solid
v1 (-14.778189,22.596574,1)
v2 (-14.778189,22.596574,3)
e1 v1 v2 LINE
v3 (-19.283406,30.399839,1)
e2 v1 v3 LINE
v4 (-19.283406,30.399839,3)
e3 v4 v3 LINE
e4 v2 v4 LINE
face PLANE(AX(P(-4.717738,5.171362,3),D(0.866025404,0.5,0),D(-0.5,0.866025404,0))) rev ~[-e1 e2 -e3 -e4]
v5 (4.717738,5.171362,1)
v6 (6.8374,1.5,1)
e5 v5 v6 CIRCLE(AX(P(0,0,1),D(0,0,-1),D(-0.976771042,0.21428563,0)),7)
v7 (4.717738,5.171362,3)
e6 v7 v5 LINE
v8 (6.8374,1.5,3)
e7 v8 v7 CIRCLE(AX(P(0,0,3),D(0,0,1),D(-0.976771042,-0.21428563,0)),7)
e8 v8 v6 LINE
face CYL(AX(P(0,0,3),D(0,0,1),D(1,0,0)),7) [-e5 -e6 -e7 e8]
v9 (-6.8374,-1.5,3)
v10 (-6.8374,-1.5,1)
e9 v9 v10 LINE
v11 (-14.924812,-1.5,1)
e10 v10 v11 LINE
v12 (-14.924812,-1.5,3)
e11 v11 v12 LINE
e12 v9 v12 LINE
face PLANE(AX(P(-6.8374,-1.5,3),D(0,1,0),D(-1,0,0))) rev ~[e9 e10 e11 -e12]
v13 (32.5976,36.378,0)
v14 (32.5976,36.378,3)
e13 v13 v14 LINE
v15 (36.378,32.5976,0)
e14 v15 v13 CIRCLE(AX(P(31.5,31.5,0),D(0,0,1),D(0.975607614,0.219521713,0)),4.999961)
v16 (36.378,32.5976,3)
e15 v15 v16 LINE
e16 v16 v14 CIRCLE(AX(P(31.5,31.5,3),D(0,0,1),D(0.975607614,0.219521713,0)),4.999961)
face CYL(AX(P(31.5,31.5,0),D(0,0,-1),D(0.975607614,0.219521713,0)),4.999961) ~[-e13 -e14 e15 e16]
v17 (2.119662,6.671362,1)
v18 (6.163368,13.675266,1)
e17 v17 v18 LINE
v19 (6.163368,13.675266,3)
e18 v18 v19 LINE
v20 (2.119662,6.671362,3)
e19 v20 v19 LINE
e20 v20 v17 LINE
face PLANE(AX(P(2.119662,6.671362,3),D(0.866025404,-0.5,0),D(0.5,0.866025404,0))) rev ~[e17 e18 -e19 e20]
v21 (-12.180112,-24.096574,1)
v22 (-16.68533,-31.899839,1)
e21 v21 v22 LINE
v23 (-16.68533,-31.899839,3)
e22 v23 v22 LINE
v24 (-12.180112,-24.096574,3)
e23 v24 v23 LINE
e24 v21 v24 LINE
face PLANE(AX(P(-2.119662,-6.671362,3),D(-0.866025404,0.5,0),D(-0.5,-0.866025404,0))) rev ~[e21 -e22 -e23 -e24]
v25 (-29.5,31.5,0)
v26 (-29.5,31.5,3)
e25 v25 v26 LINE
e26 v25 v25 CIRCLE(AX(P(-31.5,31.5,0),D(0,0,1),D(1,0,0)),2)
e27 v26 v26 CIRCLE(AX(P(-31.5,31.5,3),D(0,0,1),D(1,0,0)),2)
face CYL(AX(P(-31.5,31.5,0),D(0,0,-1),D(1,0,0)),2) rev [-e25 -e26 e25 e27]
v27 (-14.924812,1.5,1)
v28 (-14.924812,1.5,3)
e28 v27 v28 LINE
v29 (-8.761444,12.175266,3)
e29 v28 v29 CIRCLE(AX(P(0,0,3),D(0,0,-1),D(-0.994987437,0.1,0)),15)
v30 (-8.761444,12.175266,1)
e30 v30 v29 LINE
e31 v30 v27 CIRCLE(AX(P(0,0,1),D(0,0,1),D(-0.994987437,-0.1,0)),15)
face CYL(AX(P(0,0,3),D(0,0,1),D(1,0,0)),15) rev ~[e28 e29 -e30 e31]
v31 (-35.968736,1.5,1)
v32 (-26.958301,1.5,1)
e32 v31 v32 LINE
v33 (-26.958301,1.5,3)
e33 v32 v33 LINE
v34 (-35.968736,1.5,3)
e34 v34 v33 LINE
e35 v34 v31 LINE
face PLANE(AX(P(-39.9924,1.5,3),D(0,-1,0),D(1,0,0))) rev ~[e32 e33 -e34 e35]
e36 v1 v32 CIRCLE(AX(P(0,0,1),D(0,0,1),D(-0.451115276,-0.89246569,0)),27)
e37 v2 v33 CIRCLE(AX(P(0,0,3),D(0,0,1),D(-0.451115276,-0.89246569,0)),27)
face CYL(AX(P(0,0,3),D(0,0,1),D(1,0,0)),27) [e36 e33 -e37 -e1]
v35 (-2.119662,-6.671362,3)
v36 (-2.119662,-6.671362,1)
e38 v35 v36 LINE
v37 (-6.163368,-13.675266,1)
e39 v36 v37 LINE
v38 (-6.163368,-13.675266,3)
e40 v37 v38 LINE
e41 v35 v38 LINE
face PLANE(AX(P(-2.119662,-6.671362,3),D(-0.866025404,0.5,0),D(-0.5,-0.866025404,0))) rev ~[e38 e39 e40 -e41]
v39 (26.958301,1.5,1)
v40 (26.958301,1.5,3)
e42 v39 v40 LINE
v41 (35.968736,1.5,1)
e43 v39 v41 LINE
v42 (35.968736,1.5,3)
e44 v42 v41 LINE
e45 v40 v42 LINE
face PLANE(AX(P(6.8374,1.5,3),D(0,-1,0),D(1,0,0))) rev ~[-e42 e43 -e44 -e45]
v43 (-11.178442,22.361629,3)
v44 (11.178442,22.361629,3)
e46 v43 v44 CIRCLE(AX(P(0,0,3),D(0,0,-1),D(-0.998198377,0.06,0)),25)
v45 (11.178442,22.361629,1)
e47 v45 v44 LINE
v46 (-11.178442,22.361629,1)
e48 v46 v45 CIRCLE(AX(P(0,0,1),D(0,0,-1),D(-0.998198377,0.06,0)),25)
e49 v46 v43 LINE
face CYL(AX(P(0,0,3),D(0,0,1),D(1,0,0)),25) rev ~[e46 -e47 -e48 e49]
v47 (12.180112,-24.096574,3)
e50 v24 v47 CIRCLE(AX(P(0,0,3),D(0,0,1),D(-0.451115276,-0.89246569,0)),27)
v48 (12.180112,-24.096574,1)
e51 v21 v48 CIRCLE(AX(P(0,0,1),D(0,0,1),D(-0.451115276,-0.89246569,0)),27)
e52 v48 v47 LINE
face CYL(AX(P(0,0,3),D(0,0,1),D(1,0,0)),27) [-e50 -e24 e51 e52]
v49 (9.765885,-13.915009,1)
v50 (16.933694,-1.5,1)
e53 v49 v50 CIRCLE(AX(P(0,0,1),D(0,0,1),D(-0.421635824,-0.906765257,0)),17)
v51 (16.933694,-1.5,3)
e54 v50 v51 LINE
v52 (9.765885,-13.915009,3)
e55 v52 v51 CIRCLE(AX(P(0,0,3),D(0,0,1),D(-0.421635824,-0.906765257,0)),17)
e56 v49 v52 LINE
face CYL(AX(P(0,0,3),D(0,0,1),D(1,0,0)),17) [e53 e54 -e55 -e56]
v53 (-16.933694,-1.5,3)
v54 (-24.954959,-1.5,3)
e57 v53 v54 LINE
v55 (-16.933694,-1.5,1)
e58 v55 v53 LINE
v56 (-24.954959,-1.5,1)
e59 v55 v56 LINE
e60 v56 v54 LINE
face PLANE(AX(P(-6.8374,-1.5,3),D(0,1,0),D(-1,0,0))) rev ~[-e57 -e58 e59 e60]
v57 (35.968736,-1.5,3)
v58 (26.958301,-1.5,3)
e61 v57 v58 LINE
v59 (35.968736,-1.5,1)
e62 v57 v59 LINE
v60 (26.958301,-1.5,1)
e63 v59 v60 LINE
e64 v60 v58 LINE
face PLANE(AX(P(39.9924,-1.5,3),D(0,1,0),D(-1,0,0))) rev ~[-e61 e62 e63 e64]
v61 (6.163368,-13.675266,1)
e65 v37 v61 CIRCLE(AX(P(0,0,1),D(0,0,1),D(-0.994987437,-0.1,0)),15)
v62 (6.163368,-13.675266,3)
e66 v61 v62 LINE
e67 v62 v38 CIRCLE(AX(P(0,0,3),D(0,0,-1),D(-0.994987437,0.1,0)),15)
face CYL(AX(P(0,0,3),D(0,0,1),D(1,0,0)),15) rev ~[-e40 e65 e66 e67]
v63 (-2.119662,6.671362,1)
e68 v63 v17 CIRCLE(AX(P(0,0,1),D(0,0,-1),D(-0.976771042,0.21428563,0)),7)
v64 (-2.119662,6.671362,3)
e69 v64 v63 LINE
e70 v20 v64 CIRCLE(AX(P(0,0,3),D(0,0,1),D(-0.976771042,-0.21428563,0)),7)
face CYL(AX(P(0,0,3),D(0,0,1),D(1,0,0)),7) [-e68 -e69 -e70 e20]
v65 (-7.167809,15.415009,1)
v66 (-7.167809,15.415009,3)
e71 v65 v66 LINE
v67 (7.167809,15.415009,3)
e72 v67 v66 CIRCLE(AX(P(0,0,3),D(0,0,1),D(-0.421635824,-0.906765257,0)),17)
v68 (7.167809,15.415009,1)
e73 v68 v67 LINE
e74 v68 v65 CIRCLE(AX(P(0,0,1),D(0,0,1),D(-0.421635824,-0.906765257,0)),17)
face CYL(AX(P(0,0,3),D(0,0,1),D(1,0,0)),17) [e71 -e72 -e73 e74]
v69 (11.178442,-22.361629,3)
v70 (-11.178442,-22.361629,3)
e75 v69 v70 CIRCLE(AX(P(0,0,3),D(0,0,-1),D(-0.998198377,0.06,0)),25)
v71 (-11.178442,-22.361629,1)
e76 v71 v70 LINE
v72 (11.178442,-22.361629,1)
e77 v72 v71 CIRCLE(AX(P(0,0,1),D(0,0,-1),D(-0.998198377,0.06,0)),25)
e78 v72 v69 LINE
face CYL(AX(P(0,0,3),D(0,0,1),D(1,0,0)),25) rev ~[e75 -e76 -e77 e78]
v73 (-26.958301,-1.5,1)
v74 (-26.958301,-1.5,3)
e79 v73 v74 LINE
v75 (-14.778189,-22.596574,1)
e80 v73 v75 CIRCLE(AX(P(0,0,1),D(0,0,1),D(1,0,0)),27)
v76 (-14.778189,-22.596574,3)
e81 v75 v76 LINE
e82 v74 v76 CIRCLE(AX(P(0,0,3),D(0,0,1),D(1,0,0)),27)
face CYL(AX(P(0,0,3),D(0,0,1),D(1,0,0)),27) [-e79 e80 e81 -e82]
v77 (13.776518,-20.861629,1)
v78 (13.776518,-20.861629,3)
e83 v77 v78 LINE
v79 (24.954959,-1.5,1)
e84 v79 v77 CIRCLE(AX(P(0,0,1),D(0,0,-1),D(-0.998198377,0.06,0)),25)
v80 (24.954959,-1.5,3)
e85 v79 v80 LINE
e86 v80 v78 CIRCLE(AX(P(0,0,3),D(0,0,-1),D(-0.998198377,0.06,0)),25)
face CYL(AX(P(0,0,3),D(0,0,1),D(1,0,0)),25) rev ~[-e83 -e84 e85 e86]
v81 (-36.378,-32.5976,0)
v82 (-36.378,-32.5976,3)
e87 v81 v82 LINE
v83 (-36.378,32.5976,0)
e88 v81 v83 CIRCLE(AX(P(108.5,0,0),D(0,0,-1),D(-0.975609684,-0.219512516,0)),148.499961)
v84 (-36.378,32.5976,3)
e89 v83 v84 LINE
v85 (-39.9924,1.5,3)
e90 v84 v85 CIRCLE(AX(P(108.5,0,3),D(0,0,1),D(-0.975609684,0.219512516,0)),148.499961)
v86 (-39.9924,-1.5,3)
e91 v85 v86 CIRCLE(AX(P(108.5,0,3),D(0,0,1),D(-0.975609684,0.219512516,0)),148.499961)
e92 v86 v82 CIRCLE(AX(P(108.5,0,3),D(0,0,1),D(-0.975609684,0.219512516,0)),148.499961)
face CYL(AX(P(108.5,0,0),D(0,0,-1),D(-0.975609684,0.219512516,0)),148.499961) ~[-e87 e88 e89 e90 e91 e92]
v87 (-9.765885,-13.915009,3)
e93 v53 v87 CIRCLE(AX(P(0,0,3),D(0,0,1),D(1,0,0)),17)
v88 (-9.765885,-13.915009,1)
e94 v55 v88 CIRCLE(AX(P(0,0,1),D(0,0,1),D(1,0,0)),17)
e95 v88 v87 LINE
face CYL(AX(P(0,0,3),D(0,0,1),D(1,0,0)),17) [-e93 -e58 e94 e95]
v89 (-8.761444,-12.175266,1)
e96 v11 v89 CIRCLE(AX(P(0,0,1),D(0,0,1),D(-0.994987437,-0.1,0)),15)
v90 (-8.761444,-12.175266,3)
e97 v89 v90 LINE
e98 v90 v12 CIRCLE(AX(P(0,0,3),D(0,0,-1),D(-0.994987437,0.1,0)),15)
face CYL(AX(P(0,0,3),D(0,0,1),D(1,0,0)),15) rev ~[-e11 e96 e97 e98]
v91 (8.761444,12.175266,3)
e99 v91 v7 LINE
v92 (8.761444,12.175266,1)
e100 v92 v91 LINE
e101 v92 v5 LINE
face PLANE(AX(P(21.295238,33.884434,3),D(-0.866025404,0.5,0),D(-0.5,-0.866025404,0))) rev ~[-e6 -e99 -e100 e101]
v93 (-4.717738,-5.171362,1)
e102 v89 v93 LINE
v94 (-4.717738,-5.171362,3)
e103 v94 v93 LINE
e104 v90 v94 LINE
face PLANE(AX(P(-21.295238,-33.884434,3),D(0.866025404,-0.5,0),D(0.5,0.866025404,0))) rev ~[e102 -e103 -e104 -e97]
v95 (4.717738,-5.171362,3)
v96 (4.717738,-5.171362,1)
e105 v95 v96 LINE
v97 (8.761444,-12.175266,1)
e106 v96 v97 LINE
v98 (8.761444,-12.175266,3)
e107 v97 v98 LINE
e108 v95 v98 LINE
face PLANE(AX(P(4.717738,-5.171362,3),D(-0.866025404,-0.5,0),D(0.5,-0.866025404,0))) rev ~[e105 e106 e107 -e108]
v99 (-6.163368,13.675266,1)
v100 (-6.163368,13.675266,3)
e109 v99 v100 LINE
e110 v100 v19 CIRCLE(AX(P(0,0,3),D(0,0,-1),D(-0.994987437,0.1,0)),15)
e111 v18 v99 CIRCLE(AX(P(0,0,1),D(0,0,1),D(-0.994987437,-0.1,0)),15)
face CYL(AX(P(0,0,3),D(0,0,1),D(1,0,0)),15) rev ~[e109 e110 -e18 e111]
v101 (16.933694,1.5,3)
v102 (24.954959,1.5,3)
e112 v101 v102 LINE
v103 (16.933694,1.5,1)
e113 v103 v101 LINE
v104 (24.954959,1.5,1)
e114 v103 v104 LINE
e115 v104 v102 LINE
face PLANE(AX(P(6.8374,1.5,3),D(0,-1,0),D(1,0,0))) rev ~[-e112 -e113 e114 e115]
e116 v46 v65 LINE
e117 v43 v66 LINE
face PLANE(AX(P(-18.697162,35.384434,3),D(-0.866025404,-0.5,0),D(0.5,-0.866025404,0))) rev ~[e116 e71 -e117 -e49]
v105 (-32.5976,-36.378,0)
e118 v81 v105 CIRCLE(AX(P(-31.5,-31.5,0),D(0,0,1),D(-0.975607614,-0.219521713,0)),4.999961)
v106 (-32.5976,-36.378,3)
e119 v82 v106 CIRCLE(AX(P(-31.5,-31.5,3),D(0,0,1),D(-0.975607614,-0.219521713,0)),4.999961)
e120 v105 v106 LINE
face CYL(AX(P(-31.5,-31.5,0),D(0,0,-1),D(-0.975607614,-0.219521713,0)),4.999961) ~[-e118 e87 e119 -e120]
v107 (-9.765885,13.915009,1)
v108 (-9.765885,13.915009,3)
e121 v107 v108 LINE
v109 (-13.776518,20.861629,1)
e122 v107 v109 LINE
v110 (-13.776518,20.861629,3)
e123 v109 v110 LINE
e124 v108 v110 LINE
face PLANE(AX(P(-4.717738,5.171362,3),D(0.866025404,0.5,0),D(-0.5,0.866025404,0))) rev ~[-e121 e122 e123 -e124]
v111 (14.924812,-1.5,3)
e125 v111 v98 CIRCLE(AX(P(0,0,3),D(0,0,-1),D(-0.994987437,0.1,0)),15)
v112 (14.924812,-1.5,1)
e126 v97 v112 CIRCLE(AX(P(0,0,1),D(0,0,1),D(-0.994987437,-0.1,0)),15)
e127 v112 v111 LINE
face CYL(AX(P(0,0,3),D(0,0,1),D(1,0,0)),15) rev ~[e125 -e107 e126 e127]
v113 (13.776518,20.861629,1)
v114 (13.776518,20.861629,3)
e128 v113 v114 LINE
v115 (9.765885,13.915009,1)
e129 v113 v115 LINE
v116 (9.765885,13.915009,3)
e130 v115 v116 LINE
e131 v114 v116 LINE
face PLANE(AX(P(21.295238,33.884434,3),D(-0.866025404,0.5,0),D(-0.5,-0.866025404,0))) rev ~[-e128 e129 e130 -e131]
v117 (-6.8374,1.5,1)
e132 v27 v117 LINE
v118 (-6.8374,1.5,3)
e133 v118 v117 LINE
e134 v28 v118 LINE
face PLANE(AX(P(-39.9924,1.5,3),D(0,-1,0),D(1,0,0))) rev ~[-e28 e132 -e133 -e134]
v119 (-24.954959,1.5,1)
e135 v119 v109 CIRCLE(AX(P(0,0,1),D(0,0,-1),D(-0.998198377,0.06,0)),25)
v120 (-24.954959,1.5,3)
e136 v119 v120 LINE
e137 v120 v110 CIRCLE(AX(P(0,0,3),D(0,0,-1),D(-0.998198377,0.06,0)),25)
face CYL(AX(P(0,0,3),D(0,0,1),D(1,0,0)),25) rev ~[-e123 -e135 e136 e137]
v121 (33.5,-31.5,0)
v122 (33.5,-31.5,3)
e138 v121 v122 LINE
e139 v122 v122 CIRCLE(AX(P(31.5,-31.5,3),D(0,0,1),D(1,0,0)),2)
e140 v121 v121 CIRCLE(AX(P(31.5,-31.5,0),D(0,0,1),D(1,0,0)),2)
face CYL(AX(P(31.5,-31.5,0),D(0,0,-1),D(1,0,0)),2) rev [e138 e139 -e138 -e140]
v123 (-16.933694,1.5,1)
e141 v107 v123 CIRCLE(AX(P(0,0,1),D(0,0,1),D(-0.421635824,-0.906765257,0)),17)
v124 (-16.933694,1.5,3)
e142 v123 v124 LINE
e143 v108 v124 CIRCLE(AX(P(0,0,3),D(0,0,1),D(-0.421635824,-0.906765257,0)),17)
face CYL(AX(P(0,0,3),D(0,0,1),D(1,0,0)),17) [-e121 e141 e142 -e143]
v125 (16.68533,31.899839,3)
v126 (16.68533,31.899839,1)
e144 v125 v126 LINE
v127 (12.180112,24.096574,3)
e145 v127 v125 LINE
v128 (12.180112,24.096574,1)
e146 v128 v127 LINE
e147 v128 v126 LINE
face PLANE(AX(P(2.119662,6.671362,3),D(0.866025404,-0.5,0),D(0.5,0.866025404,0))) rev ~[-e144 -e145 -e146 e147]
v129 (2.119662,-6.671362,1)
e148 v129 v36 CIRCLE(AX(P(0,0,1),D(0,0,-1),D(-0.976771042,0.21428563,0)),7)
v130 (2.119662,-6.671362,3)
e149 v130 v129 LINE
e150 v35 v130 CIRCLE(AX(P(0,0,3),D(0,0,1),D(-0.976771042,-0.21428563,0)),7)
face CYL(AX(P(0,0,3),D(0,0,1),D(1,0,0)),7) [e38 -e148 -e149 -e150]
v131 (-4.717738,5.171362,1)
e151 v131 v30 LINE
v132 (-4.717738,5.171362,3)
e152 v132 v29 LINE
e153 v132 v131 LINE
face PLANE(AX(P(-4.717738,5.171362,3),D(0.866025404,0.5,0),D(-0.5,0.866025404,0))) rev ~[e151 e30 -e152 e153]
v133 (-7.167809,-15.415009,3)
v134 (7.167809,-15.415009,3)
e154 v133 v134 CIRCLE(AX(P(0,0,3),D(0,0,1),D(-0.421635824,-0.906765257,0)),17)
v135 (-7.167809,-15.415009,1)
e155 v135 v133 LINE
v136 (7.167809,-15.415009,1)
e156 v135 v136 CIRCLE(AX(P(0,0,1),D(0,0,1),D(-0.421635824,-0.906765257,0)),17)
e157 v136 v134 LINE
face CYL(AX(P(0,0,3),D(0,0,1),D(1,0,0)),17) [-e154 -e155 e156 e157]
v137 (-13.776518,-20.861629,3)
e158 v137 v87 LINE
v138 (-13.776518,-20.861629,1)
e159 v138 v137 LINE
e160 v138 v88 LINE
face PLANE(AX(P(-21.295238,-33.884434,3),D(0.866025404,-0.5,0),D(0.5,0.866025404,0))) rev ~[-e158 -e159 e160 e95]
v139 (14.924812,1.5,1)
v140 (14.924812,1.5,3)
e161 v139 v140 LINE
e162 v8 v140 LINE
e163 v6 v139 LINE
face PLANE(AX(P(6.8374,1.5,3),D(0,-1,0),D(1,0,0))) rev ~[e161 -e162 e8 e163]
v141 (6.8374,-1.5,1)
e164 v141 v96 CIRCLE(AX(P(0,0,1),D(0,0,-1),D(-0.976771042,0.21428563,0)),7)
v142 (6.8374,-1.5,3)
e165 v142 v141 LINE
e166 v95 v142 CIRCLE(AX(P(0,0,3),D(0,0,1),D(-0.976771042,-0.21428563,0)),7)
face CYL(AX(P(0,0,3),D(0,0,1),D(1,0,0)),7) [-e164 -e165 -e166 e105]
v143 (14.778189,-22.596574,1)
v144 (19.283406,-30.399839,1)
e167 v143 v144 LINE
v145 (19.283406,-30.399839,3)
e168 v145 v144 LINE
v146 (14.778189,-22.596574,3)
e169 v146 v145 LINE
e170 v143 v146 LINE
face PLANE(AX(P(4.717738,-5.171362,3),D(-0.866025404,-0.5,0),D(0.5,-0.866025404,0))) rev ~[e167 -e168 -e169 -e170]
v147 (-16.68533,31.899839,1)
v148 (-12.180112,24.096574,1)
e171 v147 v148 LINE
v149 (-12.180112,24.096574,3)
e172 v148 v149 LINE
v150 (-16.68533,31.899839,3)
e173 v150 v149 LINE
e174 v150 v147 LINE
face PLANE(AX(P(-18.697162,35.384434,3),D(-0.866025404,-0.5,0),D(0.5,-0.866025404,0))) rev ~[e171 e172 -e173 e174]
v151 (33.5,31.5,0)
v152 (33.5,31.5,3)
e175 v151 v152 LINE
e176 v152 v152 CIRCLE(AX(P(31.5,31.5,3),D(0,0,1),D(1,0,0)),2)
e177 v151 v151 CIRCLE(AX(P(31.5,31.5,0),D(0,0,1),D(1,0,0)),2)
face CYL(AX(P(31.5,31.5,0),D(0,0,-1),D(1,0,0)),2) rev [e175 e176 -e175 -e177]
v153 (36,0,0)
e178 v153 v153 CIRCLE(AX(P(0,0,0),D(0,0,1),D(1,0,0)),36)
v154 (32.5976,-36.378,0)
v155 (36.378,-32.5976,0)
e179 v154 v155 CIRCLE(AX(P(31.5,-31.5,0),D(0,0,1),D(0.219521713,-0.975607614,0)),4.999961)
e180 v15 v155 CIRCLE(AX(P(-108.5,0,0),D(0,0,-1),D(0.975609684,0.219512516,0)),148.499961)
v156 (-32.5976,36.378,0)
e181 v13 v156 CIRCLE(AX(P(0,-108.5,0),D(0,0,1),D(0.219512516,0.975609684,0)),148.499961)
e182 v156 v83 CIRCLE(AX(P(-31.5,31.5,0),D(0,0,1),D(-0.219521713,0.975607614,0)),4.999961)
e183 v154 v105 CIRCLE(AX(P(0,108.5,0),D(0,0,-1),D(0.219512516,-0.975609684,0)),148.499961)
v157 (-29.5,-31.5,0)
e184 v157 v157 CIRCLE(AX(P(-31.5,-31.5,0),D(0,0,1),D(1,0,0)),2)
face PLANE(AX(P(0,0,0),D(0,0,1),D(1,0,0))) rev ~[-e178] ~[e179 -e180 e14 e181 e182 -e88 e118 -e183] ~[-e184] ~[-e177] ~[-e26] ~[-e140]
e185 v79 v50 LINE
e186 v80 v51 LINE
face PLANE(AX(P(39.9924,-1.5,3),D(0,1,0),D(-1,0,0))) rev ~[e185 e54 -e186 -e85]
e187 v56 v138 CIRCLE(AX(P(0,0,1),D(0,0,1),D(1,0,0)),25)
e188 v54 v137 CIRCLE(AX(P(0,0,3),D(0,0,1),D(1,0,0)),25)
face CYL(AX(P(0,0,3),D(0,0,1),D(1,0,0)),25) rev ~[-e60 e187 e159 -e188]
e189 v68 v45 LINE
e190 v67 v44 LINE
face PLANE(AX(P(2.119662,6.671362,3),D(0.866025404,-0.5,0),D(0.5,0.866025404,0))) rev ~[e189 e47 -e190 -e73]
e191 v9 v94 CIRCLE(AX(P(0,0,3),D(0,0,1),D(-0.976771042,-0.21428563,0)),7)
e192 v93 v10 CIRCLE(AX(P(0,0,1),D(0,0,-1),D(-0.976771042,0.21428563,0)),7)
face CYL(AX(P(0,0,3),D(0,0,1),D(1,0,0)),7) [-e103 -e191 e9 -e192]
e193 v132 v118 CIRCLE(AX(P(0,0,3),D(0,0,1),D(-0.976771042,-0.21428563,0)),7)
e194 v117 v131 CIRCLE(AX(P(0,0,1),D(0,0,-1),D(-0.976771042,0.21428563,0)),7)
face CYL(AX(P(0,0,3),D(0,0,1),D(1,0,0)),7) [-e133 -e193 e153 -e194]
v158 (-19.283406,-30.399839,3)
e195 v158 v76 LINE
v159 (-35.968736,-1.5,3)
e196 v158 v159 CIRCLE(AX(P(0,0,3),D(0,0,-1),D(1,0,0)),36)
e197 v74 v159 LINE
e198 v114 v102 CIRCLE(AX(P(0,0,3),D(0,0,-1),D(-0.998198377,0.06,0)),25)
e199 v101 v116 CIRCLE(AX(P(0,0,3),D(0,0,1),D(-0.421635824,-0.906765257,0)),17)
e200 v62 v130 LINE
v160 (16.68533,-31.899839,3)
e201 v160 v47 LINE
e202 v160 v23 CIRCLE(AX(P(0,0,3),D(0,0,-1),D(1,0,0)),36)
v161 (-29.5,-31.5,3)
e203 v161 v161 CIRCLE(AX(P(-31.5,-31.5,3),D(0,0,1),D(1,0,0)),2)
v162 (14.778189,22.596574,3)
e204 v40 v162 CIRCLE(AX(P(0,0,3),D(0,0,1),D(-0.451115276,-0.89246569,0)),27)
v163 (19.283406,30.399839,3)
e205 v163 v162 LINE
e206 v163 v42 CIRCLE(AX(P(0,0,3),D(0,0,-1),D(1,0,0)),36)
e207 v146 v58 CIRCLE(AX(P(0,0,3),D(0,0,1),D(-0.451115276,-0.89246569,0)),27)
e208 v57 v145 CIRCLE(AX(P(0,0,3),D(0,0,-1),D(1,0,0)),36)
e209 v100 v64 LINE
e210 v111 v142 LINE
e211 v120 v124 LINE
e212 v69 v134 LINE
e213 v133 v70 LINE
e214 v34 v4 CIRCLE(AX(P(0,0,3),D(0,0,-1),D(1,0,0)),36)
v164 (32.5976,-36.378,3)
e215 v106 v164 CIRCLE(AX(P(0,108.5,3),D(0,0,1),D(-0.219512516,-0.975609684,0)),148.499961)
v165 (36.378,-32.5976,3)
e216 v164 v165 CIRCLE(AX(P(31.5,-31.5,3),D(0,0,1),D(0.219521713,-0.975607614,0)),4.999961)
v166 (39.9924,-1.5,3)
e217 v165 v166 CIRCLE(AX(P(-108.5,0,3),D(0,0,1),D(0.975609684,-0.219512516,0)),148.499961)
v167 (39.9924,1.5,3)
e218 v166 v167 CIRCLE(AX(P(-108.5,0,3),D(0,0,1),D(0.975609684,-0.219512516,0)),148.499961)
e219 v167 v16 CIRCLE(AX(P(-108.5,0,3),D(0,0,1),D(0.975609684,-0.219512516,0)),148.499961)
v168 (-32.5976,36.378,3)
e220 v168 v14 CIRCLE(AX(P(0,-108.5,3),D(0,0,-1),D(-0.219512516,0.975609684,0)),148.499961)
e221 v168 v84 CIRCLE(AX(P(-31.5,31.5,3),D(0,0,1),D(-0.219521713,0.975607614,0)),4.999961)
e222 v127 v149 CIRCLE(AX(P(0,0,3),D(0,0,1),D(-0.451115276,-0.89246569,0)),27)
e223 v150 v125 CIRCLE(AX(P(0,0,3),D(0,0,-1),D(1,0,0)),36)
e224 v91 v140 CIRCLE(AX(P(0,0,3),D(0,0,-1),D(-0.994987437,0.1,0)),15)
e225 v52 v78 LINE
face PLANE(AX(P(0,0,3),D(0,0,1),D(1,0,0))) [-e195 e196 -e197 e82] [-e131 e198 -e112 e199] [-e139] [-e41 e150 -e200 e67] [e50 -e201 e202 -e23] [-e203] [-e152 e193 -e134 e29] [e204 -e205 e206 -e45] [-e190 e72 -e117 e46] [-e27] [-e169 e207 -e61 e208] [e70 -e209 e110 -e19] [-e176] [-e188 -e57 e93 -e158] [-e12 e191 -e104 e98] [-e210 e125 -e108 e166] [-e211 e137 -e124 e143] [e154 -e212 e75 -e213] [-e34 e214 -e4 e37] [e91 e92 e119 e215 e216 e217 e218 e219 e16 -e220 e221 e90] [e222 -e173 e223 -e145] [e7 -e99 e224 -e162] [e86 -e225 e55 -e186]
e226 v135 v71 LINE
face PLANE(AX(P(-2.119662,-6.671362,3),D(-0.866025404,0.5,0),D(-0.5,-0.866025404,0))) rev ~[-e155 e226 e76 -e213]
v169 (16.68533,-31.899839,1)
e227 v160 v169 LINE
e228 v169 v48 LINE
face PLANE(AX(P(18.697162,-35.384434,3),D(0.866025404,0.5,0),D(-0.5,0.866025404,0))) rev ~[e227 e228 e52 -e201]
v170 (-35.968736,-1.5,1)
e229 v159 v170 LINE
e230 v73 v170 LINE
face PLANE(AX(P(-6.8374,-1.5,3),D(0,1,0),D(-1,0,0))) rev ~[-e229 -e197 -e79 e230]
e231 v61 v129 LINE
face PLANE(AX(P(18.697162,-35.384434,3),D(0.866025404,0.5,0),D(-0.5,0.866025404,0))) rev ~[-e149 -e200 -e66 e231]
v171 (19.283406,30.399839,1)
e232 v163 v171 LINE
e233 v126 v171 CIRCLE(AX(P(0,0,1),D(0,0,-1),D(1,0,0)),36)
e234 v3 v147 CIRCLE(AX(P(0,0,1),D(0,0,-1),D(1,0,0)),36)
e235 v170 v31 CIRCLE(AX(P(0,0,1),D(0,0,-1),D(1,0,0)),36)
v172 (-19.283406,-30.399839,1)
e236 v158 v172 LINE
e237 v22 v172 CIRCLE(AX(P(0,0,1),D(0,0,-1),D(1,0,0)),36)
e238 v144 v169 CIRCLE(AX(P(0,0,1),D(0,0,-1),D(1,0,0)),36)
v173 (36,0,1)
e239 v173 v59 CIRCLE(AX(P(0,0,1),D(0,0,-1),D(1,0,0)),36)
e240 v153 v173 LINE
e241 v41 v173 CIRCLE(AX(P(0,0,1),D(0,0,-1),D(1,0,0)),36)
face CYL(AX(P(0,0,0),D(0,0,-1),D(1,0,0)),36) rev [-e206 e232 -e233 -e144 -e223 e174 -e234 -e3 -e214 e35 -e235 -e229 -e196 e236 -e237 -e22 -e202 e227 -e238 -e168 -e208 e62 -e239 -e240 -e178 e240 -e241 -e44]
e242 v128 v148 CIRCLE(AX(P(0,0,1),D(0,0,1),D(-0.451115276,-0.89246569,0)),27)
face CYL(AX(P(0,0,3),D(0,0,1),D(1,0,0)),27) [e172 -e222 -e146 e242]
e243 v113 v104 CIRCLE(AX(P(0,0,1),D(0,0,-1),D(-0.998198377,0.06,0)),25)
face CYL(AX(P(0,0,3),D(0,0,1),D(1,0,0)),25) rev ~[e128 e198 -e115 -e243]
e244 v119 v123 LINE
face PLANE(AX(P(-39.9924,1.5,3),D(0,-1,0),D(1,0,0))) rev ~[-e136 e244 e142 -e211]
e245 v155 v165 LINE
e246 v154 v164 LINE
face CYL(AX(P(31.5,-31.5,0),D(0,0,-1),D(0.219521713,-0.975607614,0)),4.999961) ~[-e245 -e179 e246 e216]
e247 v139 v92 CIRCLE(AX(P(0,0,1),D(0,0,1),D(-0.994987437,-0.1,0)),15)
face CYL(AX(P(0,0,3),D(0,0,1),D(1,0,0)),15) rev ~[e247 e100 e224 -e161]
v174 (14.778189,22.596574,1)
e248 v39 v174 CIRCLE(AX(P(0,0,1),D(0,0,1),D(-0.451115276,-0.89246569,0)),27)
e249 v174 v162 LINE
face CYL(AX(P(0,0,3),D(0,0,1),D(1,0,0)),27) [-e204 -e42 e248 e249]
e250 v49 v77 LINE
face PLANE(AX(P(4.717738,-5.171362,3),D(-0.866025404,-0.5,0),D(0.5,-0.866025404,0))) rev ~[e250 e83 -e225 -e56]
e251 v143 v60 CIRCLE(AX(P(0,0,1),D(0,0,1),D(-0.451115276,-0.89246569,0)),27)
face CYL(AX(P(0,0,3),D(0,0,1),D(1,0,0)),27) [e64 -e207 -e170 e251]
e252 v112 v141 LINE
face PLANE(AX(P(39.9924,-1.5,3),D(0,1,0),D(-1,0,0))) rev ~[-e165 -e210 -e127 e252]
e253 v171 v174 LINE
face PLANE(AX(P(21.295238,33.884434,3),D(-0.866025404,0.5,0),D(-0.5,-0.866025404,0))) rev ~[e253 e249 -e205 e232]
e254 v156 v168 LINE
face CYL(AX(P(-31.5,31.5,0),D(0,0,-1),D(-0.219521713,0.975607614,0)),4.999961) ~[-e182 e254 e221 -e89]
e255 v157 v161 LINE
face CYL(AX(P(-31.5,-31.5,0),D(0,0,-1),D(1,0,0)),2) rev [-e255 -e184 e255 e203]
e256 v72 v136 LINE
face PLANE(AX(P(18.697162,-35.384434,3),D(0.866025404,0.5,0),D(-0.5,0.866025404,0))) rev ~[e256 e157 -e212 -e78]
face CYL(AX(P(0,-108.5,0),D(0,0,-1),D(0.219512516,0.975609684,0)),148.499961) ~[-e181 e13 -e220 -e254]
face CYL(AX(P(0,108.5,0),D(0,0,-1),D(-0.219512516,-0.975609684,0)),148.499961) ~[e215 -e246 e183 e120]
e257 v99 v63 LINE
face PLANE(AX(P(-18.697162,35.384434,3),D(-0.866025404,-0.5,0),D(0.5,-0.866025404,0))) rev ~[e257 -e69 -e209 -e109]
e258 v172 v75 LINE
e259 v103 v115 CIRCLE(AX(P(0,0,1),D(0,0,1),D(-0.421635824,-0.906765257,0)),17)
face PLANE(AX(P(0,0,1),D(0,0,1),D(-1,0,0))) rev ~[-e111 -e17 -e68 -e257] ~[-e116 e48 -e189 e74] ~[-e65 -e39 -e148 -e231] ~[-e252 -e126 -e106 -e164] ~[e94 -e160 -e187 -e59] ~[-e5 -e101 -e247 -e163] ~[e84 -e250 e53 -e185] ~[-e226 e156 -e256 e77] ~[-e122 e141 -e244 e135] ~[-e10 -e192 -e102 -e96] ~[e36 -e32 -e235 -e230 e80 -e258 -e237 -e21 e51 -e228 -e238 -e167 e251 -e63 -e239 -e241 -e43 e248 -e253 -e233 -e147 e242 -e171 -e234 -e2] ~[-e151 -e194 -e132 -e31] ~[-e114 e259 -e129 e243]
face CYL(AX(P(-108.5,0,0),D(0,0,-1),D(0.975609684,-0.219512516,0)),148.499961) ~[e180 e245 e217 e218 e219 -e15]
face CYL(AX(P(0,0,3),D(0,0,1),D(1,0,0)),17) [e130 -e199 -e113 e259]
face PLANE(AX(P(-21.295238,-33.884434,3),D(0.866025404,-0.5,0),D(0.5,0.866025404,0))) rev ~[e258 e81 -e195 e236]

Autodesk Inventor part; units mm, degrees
ref_plane "YZ Plane" through (0, 0, 0) normal (1, 0, 0) x (0, 1, 0)
ref_plane "XZ Plane" through (0, 0, 0) normal (0, 1, 0) x (-1, 0, 0)
ref_plane "XY Plane" through (0, 0, 0) normal (0, 0, 1) x (1, 0, 0)
sketch "Эскиз1" plane through (0, 0, 0) normal (0, 0, 1) x (1, 0, 0)
  line L0 (-31.5, 31.5) -> (31.5, 31.5) construction
  line L1 (31.5, 31.5) -> (31.5, -31.5) construction
  line L2 (31.5, -31.5) -> (-31.5, -31.5) construction
  line L3 (-31.5, -31.5) -> (-31.5, 31.5) construction
  arc A0 (-32.5976, 36.378) -> (-36.378, 32.5976) centre (-31.5, 31.5) ccw
  line L4 (-40, 40) -> (40, 40) construction
  line L5 (40, 40) -> (40, -40) construction
  line L6 (40, -40) -> (-40, -40) construction
  line L7 (-40, -40) -> (-40, 40) construction
  arc A1 (-36.378, 32.5976) -> (-36.378, -32.5976) centre (108.5, 0) ccw
  line L8 (-40, 0) -> (40, 0)
  line L9 (0, 40) -> (0, -40)
  arc A2 (32.5976, 36.378) -> (-32.5976, 36.378) centre (0, -108.5) ccw
  arc A3 (36.378, 32.5976) -> (32.5976, 36.378) centre (31.5, 31.5) ccw
  arc A4 (-36.378, -32.5976) -> (-32.5976, -36.378) centre (-31.5, -31.5) ccw
  arc A5 (-32.5976, -36.378) -> (32.5976, -36.378) centre (0, 108.5) ccw
  arc A6 (36.378, -32.5976) -> (36.378, 32.5976) centre (-108.5, 0) ccw
  circle A7 centre (0, 0) radius 36
  circle A8 centre (-31.5, 31.5) radius 2
  circle A9 centre (31.5, 31.5) radius 2
  circle A10 centre (31.5, -31.5) radius 2
  circle A11 centre (-31.5, -31.5) radius 2
  arc A12 (32.5976, -36.378) -> (36.378, -32.5976) centre (31.5, -31.5) ccw
  point P0 (0, 31.5)
  point P1 (31.5, 0)
  dimension "d0" = 63
  dimension "d1" = 5
  dimension "d2" = 80
  dimension "d3" = 72
  dimension "d4" = 4
extrude "Выдавливание1" add sketch "Эскиз1" along normal blind 3 contours A2 L9 A7 L8 A1 A0 | A2 A3 A6 L8 A7 L9 | L8 A7 L9 A5 A4 A1 | L8 A6 A12 A5 L9 A7
sketch "Эскиз2" plane through (0, 0, 3) normal (0, 0, 1) x (1, 0, 0)
  circle A0 centre (0, 0) radius 5
  circle A1 centre (0, 0) radius 7
  circle A2 centre (0, 0) radius 15
  circle A3 centre (0, 0) radius 17
  circle A4 centre (0, 0) radius 27
  circle A5 centre (0, 0) radius 25
  circle A6 centre (0, 0) radius 36 projected
  dimension "d7" = 2
  dimension "d8" = 2
  dimension "d9" = 2
  dimension "d10" = 10
  dimension "d11" = 30
  dimension "d12" = 50
extrude "Выдавливание2" add sketch "Эскиз2" against normal blind 2 contours A1 | A3 | A4
sketch "Эскиз3" plane through (0, 0, 3) normal (0, 0, 1) x (1, 0, 0)
  line L0 (-39.9924, 1.5) -> (-6.8374, 1.5)
  line L1 (-6.8374, 1.5) -> (-6.8374, -1.5)
  line L2 (-6.8374, -1.5) -> (-39.9924, -1.5)
  line L3 (-39.9924, -1.5) -> (-39.9924, 1.5)
  circle A0 centre (0, 0) radius 7 projected
  arc A1 (-36.378, 32.5976) -> (-36.378, -32.5976) centre (108.5, 0) ccw projected
  dimension "d15" = 3
extrude "Выдавливание3" add sketch "Эскиз3" against normal blind 2 contours L0 A0 L2 L3 | A0 L1 | L1 A0
pattern_circular "Круговой массив1" count 6 over 360 about axis through (0, 0, -10) along (0, 0, 1) of "Выдавливание3"
properties part number "Speaker_Secure"
